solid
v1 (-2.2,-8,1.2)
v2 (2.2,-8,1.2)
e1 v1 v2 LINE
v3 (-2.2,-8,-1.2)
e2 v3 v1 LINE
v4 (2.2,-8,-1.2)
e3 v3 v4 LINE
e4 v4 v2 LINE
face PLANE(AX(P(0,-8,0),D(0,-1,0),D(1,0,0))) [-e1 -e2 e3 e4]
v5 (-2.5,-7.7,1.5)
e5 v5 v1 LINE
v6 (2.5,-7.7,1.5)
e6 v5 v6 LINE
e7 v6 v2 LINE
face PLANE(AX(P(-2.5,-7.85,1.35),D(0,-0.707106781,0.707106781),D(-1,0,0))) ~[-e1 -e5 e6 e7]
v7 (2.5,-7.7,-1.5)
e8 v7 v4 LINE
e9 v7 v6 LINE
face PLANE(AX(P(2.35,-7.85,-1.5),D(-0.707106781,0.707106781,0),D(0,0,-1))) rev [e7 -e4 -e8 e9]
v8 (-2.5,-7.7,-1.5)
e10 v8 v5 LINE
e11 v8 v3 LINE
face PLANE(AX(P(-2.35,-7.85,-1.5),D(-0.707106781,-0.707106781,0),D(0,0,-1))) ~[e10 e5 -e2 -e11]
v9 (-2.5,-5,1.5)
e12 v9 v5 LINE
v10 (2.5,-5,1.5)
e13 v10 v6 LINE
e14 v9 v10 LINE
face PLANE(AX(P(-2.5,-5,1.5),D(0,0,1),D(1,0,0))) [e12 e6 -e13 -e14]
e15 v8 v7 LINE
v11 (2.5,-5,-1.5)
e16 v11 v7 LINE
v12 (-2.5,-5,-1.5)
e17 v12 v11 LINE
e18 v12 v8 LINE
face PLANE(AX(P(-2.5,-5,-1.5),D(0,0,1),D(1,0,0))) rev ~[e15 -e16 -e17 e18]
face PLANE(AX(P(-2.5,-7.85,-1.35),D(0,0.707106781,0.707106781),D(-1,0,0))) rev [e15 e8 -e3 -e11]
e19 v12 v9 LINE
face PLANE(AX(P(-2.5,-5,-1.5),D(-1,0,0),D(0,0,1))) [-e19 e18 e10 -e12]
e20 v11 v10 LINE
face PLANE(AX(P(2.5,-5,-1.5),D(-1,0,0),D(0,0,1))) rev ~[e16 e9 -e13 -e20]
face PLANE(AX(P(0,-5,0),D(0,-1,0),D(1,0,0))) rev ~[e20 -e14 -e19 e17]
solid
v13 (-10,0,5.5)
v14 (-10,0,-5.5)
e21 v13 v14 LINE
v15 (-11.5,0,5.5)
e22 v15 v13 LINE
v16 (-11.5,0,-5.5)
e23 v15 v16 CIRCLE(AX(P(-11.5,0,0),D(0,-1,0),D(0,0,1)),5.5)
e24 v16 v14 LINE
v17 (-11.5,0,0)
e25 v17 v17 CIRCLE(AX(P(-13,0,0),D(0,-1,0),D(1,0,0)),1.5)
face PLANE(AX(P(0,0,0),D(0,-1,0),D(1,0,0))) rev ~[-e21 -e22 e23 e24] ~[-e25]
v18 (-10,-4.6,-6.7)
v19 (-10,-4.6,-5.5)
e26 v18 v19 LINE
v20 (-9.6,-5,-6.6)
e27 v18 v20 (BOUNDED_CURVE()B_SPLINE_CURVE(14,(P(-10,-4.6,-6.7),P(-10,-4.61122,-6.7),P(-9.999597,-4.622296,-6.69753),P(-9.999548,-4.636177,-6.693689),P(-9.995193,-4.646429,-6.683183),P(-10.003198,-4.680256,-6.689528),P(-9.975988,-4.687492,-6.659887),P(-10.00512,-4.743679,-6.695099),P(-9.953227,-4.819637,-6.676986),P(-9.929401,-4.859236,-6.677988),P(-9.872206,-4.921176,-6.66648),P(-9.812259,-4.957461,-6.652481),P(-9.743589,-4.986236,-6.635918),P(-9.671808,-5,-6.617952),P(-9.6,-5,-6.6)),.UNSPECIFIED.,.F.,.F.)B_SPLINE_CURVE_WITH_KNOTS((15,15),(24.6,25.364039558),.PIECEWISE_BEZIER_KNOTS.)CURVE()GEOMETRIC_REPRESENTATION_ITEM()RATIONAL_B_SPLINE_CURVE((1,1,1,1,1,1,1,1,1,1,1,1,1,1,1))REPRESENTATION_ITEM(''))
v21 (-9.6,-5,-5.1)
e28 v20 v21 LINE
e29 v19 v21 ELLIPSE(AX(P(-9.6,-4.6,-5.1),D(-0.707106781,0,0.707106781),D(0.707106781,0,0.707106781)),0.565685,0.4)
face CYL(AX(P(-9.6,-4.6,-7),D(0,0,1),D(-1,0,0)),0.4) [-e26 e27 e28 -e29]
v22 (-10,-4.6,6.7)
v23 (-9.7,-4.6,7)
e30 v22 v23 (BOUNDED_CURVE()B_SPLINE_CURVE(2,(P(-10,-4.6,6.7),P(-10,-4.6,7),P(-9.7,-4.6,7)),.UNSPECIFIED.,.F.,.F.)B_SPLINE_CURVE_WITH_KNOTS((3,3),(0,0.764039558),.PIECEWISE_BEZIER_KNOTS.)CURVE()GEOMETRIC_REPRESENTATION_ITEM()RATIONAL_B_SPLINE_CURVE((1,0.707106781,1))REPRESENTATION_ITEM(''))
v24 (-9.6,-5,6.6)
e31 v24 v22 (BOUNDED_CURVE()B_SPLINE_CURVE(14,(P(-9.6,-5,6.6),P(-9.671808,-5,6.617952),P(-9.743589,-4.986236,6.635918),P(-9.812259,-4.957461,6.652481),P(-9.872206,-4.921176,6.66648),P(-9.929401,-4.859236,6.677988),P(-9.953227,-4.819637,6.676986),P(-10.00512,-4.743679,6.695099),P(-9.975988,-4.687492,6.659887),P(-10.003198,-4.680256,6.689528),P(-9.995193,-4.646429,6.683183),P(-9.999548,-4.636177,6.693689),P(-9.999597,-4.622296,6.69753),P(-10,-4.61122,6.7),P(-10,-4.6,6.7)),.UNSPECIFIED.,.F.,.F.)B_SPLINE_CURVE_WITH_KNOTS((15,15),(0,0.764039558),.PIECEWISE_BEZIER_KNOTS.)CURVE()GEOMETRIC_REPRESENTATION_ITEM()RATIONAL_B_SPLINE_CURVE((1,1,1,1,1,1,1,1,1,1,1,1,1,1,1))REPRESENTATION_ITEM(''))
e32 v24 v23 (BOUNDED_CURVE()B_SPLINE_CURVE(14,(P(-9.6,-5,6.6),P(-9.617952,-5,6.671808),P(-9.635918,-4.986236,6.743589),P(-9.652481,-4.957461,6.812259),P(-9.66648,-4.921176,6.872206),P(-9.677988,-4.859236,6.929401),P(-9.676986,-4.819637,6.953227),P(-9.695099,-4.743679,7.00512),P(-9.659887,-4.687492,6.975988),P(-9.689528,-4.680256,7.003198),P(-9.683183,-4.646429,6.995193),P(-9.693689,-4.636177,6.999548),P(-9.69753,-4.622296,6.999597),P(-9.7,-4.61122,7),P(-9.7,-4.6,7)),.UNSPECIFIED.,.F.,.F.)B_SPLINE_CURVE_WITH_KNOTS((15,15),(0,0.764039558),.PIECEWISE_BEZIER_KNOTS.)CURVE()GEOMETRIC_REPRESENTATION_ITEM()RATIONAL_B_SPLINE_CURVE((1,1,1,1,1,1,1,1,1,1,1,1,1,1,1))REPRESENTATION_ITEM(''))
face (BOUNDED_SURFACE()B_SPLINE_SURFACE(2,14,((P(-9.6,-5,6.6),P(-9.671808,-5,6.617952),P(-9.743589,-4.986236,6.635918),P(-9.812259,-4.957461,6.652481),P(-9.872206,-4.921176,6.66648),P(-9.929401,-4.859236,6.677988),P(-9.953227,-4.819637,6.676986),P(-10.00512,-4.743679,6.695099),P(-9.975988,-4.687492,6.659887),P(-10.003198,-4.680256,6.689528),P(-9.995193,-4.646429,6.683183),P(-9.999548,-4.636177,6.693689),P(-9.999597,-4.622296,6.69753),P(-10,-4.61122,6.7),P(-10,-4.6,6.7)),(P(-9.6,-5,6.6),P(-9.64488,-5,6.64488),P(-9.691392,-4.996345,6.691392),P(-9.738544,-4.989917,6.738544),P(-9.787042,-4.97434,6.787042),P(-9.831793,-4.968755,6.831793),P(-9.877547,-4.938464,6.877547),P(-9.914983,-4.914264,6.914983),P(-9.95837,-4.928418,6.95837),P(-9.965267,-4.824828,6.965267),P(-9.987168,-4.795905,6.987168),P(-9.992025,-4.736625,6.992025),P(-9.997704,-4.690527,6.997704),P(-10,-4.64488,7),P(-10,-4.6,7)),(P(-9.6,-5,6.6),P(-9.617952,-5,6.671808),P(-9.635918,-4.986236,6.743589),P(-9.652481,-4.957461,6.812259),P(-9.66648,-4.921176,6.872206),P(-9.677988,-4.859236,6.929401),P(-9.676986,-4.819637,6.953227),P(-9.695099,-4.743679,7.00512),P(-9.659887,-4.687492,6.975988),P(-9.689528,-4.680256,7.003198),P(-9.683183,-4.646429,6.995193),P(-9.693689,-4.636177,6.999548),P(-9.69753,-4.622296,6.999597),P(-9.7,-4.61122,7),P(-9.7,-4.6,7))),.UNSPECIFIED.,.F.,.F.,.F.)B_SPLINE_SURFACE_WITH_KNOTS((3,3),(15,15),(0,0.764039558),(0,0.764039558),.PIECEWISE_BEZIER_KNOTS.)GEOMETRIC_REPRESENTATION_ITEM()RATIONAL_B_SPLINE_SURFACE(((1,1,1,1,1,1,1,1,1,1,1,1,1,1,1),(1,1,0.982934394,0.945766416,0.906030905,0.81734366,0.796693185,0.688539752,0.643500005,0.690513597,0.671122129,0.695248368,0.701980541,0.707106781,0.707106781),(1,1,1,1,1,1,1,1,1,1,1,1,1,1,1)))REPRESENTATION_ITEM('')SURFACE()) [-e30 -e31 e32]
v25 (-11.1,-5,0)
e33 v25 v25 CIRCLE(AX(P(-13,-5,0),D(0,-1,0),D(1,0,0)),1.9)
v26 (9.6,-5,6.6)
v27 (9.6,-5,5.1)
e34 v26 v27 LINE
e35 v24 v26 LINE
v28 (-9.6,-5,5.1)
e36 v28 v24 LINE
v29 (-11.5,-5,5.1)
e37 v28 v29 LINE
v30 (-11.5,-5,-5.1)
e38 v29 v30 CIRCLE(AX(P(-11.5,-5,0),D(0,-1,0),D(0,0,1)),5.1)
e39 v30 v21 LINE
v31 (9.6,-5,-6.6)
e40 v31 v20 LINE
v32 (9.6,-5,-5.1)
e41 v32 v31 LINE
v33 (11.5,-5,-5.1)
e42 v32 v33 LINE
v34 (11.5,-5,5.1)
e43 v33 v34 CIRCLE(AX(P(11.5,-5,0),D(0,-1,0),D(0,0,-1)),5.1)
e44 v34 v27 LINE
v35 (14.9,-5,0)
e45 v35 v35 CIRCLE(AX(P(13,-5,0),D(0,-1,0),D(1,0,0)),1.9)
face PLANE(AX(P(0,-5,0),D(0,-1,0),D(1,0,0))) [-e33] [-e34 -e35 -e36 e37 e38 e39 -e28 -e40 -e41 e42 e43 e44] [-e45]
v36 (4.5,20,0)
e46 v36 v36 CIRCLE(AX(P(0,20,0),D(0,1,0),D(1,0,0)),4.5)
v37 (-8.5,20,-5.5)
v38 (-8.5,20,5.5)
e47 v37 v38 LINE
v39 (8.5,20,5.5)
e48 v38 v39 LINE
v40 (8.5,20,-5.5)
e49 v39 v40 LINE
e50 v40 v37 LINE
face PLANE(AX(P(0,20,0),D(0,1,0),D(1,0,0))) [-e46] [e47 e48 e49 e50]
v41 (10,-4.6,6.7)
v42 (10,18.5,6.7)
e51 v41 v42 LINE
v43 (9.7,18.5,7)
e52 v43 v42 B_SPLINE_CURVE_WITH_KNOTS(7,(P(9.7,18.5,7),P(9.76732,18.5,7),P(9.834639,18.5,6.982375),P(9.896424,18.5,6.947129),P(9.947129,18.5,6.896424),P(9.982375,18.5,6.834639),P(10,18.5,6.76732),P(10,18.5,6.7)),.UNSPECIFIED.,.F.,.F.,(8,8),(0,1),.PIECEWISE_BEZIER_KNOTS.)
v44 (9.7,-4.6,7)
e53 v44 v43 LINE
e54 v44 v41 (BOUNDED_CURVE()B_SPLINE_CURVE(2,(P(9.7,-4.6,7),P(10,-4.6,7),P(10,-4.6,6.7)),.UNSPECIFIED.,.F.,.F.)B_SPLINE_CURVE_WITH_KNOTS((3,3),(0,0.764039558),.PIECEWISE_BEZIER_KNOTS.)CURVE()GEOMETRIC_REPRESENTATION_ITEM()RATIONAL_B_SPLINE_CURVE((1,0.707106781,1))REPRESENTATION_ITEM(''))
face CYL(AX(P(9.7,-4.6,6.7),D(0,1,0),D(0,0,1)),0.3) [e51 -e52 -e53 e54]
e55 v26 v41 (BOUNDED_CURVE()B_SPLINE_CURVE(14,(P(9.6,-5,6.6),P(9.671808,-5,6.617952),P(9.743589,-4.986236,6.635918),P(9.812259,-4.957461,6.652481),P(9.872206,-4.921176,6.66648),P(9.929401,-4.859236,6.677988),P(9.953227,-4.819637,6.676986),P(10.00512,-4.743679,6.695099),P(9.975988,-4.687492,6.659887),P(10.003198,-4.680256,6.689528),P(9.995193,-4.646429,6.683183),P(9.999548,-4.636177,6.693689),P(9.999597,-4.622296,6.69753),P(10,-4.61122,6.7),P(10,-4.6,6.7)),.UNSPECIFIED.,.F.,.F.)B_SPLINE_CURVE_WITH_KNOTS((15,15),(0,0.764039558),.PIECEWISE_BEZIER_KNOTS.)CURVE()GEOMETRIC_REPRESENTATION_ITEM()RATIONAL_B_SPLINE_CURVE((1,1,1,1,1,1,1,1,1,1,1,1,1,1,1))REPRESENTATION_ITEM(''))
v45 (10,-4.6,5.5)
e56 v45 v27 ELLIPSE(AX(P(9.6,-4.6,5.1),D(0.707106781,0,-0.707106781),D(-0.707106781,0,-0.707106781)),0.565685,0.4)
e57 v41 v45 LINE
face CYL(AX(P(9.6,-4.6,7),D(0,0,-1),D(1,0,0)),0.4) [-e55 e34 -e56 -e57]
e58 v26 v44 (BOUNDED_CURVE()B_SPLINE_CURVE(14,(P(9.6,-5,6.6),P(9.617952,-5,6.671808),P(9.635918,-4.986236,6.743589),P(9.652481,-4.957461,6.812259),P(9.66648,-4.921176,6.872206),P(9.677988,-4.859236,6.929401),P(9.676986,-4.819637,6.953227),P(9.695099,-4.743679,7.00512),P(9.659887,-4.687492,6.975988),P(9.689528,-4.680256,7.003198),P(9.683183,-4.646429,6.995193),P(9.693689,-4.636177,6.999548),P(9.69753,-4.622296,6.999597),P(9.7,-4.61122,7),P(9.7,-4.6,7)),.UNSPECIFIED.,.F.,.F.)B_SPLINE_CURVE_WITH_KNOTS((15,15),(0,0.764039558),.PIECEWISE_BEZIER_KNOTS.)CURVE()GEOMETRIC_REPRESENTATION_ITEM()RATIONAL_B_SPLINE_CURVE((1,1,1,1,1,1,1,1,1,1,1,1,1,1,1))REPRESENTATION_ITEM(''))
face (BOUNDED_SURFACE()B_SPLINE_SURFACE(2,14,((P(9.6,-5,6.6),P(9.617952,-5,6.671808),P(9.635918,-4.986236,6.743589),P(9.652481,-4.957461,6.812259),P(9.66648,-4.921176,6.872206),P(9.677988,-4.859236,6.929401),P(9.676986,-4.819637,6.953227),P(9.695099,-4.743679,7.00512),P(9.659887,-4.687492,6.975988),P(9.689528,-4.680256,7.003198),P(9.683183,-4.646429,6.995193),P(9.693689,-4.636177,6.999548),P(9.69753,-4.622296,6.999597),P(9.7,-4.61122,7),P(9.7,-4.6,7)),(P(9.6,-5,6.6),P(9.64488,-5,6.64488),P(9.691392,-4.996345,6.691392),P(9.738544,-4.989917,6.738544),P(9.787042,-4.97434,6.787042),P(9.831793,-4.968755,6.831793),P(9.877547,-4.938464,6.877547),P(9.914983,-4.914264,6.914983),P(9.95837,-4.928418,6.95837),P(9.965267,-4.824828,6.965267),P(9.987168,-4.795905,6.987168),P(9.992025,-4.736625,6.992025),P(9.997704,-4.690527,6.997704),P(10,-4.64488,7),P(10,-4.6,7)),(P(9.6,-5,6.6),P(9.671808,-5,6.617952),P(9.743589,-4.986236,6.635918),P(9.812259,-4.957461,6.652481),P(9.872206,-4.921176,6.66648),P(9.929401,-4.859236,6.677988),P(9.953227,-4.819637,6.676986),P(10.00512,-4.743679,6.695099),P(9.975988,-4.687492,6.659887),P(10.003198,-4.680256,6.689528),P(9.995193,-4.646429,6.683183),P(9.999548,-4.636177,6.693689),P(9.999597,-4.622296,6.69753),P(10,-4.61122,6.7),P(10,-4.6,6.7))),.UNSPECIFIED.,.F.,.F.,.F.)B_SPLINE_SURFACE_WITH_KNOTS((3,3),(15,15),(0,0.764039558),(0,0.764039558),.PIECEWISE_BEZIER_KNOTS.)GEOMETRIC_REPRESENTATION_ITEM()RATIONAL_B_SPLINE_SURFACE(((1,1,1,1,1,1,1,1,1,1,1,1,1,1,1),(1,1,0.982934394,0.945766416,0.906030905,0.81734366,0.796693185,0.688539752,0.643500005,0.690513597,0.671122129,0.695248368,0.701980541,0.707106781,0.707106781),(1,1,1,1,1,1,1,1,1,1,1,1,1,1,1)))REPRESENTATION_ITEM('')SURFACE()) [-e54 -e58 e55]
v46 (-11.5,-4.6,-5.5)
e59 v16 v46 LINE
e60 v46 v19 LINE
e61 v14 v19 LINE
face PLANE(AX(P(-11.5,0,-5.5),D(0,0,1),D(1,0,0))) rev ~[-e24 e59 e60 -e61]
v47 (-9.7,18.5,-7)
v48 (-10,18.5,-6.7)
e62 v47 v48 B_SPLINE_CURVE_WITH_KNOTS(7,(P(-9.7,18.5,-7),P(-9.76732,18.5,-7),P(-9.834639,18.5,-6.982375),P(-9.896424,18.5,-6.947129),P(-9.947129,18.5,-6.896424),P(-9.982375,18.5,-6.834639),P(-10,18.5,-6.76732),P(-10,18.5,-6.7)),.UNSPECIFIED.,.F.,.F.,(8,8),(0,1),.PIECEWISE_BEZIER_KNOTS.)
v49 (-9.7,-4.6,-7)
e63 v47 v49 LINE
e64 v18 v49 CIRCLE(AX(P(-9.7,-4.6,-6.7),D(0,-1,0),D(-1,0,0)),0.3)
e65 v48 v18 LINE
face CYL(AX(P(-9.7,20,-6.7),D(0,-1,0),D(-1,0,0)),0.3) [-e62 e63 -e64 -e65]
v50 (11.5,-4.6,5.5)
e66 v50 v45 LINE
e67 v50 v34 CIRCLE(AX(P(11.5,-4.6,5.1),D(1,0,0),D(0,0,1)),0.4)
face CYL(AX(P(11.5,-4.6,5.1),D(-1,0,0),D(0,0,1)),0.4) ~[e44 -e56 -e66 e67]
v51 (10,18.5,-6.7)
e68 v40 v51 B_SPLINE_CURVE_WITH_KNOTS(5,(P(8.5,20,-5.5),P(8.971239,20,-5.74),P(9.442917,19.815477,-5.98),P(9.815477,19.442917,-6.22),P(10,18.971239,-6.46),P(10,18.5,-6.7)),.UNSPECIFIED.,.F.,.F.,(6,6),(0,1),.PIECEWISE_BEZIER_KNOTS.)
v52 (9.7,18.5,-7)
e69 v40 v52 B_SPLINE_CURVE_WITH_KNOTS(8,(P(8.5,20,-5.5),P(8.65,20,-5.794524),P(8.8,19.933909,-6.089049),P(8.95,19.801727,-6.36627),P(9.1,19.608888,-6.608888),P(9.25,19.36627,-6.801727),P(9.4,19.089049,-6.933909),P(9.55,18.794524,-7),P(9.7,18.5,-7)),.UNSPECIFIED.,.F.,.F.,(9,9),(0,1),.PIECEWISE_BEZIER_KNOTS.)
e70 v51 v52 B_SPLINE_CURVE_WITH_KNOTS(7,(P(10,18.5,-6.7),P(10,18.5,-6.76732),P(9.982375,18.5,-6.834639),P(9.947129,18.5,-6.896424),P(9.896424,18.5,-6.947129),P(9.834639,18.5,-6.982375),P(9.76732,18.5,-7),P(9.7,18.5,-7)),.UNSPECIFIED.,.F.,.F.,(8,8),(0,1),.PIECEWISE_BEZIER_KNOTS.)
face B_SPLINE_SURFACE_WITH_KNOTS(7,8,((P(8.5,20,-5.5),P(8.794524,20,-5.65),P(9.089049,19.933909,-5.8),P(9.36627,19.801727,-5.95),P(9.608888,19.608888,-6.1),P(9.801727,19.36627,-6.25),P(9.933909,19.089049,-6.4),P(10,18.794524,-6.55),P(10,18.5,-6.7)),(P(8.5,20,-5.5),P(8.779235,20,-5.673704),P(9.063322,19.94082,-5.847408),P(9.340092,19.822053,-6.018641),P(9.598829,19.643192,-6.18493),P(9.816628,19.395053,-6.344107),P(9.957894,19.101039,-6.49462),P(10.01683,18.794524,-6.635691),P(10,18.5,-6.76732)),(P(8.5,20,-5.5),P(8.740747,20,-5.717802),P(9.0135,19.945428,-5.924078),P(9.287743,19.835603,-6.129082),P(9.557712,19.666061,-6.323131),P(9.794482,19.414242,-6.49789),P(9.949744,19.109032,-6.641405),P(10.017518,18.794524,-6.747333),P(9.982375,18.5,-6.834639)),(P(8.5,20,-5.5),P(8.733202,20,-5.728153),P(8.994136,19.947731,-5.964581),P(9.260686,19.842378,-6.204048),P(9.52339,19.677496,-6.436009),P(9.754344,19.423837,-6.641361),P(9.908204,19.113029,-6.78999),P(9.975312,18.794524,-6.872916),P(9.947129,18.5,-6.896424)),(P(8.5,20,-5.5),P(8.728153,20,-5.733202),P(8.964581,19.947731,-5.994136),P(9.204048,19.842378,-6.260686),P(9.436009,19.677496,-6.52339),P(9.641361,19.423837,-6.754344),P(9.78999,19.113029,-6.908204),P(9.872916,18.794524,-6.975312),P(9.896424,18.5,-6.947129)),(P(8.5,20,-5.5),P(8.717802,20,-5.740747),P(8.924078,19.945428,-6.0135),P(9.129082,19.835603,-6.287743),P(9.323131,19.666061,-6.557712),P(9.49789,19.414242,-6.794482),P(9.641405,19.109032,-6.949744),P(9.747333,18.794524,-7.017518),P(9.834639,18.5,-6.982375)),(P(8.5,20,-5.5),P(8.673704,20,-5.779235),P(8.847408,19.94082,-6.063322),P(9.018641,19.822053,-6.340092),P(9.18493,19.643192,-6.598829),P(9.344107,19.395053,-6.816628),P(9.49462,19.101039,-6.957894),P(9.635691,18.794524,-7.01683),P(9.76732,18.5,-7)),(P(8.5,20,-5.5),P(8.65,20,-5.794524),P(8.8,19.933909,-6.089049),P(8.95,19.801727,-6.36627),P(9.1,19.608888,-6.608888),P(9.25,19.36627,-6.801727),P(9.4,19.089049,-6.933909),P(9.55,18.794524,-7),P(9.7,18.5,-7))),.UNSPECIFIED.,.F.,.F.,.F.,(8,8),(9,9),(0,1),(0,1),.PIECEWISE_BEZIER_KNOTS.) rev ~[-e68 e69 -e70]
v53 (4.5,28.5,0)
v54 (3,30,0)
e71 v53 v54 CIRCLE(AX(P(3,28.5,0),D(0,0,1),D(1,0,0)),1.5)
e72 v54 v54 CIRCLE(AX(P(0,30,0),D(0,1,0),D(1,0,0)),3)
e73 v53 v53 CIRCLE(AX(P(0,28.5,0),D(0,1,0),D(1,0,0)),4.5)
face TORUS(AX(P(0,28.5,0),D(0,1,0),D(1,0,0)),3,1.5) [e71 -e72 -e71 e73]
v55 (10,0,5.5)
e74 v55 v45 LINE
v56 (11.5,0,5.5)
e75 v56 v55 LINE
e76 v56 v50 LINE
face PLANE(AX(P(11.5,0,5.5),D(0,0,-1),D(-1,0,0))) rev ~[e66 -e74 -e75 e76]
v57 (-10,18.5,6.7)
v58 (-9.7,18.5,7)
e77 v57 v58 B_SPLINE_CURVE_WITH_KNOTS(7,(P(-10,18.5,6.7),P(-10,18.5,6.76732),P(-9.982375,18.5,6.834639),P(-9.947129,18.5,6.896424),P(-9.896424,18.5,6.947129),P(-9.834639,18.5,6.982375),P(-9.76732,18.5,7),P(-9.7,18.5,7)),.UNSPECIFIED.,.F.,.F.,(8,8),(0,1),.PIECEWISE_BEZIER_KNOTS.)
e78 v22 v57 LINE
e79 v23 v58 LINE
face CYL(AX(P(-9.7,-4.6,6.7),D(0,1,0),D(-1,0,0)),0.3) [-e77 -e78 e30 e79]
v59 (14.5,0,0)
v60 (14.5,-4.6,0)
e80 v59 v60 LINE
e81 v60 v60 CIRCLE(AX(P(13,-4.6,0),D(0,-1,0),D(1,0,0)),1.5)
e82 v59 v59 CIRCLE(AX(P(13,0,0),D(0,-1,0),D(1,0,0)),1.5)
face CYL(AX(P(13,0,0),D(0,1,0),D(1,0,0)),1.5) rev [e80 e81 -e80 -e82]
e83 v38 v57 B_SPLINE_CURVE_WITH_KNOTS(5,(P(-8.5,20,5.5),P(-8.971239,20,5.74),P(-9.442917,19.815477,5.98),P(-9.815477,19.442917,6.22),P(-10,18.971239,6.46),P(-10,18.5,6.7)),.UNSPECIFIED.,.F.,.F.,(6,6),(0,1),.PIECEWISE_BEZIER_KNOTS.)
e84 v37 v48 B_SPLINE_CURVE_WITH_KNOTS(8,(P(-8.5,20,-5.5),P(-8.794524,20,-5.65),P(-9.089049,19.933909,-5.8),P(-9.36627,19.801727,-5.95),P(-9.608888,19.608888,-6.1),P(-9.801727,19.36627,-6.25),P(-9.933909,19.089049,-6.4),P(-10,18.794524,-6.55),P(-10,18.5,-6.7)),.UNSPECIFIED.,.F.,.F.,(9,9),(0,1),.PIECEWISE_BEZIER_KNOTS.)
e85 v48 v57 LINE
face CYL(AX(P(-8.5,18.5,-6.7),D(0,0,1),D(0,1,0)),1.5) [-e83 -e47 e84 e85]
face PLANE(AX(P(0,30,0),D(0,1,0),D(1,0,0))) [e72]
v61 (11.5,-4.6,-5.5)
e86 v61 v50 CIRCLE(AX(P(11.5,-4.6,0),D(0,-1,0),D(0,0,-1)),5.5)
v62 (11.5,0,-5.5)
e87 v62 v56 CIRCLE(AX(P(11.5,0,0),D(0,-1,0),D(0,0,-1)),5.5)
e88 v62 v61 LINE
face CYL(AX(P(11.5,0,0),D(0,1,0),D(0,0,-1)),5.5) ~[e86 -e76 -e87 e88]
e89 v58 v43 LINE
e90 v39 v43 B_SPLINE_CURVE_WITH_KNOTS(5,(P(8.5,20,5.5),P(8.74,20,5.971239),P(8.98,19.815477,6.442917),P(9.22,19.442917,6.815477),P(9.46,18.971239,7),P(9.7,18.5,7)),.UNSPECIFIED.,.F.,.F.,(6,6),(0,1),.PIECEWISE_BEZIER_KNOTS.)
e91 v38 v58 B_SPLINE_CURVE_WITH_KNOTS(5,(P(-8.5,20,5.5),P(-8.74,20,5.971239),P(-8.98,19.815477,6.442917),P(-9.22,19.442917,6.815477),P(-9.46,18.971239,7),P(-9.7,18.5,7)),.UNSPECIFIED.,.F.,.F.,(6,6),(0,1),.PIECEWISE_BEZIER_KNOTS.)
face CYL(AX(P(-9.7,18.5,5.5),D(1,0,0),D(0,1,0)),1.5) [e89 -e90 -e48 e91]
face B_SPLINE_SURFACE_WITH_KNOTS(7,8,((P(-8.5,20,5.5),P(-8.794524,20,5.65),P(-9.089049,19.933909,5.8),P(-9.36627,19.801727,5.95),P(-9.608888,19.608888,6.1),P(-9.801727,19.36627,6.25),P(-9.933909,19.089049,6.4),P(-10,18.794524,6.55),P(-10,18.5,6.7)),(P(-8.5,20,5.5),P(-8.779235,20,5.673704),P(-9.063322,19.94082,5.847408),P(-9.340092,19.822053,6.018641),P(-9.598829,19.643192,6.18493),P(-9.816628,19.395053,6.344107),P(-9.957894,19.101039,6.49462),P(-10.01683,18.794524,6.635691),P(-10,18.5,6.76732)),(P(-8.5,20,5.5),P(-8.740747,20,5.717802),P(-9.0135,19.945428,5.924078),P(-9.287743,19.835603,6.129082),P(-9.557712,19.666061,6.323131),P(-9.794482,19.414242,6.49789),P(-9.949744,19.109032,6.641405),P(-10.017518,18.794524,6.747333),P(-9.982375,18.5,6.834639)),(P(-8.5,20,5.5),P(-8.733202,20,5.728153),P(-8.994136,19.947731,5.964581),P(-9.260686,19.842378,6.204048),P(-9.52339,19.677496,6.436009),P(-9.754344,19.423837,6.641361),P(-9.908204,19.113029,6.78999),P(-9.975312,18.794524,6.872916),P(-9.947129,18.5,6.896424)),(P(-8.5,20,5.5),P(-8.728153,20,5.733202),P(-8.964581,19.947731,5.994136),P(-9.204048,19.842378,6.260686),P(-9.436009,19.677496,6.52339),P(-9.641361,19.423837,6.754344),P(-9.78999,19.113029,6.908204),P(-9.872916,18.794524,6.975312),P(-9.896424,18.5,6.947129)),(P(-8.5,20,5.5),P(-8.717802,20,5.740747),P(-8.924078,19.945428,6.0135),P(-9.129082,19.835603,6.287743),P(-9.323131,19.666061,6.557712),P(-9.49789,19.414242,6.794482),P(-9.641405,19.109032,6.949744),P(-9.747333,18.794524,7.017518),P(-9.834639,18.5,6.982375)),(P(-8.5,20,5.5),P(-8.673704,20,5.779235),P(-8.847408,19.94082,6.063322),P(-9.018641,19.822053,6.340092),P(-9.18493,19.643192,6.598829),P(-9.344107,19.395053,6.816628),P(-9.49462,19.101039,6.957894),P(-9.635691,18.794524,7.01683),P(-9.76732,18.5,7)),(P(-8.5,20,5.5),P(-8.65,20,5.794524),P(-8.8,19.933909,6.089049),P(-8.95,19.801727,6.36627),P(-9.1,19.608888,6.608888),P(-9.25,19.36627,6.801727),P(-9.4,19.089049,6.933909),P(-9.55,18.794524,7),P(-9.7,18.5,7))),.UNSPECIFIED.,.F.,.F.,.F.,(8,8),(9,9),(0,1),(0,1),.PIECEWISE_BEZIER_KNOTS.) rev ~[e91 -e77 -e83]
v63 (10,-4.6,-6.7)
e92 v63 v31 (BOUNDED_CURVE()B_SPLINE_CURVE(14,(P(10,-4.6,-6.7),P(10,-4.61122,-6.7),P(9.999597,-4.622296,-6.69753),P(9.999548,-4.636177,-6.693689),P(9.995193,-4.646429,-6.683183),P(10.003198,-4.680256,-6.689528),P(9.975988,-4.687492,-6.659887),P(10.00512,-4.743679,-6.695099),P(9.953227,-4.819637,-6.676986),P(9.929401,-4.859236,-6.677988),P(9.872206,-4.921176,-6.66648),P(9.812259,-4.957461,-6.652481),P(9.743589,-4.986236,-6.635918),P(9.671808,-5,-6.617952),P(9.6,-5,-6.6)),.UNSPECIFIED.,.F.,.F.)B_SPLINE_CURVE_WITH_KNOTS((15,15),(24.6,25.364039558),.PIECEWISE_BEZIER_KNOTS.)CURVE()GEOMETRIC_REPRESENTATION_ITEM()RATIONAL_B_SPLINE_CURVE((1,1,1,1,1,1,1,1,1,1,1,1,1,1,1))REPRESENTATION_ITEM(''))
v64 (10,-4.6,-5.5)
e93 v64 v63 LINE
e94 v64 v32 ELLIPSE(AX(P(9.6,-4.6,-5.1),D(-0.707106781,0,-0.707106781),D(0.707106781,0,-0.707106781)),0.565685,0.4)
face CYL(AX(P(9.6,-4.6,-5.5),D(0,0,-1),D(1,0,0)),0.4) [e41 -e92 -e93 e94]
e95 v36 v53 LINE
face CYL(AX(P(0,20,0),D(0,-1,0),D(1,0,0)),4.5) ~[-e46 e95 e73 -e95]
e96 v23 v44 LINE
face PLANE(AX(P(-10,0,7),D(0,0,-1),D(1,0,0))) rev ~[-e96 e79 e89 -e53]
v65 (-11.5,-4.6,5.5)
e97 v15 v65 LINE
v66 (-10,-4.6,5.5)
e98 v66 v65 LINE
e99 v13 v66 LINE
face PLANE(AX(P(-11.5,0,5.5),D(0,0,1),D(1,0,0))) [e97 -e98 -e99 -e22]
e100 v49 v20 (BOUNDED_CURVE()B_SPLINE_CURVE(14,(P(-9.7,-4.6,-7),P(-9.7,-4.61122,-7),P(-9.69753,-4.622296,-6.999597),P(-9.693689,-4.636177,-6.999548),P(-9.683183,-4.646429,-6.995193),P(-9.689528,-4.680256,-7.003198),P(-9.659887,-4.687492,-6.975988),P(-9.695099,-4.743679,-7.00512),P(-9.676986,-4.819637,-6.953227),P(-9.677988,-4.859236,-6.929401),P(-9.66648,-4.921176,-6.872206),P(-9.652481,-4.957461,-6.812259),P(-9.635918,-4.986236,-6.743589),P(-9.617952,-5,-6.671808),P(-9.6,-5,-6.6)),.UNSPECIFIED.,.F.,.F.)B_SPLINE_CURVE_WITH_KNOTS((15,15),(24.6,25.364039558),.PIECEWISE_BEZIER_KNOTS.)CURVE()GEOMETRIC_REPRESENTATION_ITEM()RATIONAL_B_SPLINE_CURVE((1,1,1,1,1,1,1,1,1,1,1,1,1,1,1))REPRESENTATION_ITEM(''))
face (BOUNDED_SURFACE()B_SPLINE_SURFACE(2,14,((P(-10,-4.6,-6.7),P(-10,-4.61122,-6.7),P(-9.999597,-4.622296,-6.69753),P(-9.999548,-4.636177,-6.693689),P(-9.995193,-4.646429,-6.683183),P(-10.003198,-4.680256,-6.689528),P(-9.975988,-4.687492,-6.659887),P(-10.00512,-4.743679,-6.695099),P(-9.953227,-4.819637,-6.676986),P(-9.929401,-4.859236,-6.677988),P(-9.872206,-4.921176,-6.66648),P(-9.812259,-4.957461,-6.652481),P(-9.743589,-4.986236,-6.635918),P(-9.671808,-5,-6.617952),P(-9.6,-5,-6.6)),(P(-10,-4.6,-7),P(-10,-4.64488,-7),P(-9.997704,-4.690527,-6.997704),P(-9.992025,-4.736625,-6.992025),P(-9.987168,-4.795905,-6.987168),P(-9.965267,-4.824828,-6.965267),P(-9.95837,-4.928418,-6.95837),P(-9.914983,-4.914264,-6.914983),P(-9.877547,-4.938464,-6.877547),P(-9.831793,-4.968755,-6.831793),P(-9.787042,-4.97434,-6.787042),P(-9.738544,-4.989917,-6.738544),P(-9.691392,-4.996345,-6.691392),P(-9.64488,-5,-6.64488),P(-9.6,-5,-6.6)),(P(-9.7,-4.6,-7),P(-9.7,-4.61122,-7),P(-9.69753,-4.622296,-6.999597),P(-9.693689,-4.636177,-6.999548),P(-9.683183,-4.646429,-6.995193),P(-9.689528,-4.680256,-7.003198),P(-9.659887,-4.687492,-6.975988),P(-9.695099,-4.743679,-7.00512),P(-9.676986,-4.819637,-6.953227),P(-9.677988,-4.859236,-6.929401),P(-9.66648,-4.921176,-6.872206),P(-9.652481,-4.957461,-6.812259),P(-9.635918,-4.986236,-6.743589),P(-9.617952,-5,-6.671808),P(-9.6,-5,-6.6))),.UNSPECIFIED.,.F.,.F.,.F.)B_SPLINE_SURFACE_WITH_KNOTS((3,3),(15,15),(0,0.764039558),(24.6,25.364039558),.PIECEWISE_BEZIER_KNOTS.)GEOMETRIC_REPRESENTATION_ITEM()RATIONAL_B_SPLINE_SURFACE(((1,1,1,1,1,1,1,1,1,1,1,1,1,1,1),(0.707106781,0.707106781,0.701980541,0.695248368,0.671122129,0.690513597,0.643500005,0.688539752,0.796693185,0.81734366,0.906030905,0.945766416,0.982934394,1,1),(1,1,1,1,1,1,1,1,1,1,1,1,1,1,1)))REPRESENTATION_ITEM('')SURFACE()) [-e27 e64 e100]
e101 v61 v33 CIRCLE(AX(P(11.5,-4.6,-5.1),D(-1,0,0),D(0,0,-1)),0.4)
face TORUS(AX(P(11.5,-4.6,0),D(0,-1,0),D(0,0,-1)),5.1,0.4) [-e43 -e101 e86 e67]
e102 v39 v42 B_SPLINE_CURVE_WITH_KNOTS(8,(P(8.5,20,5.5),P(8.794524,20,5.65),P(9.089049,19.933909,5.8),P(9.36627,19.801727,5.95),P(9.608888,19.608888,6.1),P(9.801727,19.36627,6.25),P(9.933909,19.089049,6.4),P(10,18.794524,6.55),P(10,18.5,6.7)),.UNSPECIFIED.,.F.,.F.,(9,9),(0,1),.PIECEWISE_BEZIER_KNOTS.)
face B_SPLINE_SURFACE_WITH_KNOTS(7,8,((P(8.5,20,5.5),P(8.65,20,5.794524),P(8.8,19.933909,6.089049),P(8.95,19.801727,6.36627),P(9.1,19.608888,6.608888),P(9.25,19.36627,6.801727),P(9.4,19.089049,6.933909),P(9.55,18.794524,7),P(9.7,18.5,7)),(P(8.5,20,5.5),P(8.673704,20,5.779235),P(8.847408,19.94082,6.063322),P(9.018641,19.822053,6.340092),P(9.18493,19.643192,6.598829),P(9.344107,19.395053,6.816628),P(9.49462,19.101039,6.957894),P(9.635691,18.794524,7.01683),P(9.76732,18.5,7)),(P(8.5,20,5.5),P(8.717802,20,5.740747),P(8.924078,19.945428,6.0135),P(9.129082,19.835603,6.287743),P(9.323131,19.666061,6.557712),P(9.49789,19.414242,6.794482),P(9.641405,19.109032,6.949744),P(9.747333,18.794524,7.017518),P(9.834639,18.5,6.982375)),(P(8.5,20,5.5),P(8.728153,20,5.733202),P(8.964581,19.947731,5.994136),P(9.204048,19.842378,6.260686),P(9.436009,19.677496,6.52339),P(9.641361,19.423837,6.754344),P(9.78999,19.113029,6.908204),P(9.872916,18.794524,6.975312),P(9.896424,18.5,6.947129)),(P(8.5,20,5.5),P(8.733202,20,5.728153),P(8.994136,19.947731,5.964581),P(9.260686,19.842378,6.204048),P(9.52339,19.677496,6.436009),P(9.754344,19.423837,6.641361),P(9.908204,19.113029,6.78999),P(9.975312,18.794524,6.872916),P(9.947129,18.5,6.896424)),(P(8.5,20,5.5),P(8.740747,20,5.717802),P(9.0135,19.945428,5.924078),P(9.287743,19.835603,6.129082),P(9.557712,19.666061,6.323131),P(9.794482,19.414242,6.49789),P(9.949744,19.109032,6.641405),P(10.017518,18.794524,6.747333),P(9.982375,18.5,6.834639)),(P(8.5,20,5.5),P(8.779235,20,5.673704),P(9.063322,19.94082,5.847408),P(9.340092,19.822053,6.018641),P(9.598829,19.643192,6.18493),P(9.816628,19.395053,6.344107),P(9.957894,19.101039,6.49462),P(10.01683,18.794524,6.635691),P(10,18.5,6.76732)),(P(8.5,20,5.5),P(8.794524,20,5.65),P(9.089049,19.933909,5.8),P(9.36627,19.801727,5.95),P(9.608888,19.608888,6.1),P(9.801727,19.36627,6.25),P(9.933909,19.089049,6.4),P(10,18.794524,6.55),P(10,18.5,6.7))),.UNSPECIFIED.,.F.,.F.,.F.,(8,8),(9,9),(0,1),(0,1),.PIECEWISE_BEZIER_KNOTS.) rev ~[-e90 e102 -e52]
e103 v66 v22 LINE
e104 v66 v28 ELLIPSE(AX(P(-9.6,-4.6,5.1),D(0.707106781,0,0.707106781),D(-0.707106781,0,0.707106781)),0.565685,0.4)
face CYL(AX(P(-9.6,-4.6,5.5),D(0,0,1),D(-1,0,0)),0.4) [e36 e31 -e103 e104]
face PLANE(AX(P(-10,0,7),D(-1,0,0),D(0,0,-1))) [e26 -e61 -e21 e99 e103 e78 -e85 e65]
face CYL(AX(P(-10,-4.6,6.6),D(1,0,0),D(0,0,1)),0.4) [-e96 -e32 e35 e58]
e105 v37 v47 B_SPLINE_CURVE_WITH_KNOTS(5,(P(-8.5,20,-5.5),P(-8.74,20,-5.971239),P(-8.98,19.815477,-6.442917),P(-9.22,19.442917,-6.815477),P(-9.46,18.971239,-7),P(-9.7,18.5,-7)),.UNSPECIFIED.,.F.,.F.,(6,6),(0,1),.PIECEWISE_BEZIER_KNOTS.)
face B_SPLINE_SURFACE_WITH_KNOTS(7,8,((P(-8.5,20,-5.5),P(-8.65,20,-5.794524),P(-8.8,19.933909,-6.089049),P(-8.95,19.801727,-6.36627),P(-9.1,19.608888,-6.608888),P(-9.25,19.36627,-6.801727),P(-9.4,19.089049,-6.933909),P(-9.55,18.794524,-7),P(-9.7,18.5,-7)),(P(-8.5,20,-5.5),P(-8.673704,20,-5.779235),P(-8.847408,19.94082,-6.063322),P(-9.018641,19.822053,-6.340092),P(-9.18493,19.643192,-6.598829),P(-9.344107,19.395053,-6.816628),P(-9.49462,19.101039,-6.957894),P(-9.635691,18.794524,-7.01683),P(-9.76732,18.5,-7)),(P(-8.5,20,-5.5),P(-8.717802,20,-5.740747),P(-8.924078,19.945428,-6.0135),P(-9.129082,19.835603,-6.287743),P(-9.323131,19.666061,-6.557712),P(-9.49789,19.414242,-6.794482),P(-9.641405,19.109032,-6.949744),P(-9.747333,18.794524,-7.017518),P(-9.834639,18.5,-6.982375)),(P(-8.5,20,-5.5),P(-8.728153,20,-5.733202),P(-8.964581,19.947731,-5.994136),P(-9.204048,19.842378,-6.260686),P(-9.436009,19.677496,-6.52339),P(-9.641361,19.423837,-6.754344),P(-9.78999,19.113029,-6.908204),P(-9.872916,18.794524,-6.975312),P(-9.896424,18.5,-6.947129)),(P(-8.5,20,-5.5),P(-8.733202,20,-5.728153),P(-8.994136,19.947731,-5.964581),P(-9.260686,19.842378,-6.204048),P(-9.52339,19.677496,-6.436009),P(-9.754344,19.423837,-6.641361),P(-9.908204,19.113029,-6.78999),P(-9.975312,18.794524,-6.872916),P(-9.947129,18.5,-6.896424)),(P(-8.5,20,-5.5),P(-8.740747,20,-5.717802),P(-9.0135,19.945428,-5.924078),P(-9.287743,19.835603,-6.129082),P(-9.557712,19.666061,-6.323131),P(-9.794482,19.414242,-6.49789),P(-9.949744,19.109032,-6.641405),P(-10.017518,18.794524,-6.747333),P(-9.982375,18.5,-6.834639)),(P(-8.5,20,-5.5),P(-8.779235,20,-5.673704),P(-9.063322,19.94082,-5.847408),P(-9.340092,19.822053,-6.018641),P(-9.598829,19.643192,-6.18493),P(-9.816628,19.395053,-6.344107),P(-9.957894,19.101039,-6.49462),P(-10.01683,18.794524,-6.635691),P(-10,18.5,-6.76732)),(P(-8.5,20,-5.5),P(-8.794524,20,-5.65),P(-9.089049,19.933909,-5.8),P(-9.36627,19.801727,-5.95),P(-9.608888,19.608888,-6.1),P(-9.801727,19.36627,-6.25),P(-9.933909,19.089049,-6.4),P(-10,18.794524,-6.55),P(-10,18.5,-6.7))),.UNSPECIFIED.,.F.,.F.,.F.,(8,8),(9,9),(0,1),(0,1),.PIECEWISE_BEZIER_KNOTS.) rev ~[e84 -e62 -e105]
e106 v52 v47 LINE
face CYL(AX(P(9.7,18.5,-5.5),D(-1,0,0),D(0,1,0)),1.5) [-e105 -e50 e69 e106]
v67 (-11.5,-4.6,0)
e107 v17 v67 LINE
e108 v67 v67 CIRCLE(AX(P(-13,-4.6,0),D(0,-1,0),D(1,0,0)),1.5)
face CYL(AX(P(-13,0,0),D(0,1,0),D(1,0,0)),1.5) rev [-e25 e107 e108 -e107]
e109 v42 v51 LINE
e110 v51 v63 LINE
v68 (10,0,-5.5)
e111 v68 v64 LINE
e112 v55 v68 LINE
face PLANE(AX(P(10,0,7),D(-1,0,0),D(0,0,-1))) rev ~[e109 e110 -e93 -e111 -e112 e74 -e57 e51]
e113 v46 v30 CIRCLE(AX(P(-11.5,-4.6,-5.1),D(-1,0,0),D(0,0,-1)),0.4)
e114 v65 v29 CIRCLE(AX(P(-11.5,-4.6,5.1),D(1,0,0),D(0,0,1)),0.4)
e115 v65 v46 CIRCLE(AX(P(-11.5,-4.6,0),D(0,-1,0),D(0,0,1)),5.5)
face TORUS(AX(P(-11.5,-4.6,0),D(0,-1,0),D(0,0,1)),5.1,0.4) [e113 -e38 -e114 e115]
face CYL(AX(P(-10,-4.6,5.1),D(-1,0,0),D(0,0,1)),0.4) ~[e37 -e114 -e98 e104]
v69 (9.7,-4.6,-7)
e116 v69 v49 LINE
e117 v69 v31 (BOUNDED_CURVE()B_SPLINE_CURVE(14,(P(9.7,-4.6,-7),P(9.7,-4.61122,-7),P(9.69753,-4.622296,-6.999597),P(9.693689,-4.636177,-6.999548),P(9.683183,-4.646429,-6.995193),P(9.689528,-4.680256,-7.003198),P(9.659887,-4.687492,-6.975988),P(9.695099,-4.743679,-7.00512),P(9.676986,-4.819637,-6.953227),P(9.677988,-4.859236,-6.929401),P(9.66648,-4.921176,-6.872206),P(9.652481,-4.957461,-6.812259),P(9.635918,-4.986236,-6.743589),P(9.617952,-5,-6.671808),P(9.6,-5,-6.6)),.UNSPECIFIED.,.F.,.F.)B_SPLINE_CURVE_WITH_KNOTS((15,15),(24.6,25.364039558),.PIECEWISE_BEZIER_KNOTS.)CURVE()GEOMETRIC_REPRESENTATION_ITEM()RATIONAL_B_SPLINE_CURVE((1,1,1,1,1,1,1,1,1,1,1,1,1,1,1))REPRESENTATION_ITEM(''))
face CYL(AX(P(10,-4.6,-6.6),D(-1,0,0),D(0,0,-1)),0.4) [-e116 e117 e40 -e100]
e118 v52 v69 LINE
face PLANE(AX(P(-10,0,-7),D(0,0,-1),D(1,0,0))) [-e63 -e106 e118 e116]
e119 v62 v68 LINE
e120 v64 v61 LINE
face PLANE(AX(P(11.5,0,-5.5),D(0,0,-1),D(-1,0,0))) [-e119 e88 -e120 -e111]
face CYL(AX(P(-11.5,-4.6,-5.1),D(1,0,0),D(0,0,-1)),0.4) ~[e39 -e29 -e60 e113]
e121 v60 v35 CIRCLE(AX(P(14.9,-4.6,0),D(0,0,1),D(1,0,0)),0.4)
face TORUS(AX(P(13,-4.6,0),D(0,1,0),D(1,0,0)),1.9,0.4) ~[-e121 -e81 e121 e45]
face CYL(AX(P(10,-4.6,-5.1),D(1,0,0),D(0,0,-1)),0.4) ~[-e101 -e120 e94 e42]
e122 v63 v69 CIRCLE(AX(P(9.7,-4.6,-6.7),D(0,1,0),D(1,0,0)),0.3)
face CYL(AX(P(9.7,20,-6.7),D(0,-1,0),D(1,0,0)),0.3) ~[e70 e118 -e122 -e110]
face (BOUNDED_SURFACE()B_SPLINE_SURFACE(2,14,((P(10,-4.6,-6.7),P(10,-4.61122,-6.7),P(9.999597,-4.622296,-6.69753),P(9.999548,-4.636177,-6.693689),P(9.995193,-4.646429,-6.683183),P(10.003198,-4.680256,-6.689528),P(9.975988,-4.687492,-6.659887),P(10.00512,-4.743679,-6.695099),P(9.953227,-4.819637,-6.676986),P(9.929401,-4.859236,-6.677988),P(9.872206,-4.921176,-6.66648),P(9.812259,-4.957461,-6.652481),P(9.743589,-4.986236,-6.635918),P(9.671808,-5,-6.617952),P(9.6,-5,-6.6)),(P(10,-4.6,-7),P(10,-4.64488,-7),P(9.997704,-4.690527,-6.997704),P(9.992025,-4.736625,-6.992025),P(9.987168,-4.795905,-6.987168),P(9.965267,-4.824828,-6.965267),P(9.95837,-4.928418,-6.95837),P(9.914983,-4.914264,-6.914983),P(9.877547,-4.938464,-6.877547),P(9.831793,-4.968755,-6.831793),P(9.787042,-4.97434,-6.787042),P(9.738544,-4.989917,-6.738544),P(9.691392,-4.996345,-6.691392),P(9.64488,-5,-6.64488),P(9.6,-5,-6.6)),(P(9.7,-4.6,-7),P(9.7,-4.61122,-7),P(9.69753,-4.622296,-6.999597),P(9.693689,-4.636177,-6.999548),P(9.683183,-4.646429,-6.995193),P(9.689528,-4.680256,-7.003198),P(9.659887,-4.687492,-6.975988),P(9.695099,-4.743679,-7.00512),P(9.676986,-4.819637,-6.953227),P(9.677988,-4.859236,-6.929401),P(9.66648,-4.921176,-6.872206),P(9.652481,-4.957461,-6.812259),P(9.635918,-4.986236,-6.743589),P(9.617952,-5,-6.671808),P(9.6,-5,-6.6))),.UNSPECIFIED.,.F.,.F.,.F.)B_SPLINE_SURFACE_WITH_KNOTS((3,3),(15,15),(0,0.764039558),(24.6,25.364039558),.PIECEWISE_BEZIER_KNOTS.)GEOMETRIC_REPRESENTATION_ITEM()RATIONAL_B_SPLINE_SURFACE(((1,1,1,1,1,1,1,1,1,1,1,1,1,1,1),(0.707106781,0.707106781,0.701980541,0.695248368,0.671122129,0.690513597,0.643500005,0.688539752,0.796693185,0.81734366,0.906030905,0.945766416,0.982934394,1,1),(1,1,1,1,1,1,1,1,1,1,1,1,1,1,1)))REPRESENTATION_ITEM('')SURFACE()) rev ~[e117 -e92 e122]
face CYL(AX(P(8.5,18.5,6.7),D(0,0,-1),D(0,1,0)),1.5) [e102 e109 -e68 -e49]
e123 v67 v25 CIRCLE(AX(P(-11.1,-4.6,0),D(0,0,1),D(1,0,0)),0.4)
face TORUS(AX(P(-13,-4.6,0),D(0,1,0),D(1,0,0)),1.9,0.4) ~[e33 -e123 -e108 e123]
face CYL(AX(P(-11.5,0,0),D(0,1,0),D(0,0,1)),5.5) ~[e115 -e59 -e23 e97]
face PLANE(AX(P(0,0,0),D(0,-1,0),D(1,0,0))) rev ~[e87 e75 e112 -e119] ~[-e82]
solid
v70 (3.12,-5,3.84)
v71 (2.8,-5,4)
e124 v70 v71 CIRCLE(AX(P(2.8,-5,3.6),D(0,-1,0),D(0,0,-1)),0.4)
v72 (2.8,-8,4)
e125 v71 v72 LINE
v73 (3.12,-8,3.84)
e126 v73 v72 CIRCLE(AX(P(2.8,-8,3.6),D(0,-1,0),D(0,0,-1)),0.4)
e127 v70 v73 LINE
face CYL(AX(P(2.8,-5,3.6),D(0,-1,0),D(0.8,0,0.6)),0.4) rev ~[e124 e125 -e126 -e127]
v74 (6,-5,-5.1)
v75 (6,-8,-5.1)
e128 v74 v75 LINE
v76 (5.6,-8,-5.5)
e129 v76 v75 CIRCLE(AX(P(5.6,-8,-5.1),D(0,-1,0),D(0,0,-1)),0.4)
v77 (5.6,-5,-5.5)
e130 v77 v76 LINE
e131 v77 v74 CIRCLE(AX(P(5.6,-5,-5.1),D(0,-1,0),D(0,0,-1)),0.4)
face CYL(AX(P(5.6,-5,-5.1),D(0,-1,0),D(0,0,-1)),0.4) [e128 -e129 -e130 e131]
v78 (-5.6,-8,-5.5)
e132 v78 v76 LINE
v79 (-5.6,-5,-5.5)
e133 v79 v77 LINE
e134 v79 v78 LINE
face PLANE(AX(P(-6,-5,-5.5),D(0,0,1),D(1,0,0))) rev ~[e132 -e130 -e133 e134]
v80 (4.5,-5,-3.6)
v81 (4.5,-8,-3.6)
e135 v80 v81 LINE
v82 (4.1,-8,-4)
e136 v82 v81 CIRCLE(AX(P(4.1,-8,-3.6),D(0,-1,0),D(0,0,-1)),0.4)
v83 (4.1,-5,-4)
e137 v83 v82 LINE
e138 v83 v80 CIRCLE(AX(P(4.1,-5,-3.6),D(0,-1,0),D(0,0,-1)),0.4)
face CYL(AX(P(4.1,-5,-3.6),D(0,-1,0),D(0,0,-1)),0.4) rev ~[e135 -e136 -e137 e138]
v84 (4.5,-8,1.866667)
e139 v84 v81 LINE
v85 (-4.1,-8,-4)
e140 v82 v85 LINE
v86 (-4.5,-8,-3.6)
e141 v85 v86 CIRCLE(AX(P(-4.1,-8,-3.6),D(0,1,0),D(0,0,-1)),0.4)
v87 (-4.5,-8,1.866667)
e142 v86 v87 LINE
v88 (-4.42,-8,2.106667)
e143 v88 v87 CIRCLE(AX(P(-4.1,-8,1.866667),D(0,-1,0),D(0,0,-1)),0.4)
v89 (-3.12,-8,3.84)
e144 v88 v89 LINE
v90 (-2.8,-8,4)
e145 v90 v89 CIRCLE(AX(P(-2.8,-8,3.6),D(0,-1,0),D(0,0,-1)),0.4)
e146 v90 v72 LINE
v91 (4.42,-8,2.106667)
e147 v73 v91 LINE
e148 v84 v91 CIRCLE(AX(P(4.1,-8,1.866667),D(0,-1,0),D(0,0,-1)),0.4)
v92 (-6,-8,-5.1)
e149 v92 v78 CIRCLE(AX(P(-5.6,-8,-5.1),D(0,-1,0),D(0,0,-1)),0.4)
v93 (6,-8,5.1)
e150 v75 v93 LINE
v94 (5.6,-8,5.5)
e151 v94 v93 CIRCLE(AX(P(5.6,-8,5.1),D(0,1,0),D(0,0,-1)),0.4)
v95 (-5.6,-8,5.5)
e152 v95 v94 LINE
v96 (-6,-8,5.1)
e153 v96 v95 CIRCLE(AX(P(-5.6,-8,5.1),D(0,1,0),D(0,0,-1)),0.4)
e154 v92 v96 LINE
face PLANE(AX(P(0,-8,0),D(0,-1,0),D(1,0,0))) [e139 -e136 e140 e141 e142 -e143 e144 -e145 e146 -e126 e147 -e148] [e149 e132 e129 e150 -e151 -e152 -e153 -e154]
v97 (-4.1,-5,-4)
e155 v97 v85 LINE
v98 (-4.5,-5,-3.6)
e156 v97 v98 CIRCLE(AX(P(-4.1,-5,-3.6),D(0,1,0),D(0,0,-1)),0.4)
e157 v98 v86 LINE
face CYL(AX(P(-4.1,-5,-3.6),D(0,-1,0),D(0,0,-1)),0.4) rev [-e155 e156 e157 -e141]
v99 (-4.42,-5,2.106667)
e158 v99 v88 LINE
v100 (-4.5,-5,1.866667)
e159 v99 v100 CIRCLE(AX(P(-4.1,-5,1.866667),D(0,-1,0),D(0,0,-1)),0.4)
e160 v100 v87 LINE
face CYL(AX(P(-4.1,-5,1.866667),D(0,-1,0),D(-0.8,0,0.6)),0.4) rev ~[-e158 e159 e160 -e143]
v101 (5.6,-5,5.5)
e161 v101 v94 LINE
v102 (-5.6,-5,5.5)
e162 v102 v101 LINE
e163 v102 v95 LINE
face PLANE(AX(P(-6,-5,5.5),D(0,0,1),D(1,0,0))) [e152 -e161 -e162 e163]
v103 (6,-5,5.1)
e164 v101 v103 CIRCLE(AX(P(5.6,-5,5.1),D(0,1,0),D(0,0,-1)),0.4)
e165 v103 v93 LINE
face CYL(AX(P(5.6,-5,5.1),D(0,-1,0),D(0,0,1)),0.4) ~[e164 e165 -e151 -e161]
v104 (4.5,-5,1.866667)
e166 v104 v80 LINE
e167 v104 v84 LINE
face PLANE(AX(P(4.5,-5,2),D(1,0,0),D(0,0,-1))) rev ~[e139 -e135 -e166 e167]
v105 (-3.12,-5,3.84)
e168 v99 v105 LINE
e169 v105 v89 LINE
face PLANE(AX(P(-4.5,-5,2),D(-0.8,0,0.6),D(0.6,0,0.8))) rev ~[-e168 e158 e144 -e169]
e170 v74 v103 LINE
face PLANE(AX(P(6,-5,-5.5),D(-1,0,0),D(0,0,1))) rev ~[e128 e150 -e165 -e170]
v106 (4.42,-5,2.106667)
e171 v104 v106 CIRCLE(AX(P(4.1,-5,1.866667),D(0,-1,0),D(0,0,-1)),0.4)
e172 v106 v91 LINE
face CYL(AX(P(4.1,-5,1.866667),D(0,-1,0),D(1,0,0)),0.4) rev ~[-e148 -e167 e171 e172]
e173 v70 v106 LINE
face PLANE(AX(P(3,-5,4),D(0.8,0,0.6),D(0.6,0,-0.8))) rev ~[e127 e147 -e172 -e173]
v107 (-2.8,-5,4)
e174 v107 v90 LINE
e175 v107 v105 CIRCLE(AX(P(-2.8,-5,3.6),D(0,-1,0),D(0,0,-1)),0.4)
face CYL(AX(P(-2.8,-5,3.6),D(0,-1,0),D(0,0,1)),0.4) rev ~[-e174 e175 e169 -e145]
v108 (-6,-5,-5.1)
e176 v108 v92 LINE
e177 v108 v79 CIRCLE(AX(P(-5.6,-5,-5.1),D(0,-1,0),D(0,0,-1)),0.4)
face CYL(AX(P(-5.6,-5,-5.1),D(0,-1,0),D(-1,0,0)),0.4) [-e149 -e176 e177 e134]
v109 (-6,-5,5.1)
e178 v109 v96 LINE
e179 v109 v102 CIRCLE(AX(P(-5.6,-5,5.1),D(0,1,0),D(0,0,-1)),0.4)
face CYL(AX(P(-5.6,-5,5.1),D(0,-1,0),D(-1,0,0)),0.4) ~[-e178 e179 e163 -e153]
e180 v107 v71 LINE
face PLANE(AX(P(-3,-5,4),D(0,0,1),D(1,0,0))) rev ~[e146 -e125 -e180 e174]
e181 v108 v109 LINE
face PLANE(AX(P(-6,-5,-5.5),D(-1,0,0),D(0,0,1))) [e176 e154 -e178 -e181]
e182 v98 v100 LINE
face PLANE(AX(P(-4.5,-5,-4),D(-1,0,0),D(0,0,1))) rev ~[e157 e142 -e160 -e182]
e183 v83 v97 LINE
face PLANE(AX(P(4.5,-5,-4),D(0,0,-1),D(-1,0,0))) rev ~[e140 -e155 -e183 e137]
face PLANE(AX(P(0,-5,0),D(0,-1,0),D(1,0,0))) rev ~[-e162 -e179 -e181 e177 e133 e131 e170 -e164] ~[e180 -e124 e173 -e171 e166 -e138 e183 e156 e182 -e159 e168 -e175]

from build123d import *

# Parameters (mm, degrees)
SKETCH_R     = 1.5
PAD_DEPTH    = 5
FILLET_R     = 0.4
SKETCH001_W  = 20
SKETCH001_H  = 14
PAD001_DEPTH = 20
FILLET001_R  = 0.3
FILLET002_R  = 1.5
SKETCH005_R  = 4.5
PAD005_DEPTH = 10
FILLET005_R  = 1.5
SKETCH003_W  = 12
SKETCH003_H  = 11
PAD003_DEPTH = 3
FILLET004_R  = 0.4
SKETCH004_W  = 5
SKETCH004_H  = 3
PAD004_DEPTH = 3
CHAMFER_SIZE = 0.3


with BuildPart() as body:
    # Sketch → Pad (new body)
    with BuildSketch(Plane.XZ):
        with BuildLine():
            ThreePointArc((-11.5, 5.5), (-17, 0), (-11.5, -5.5))
            Line((-11.5, -5.5), (-10, -5.5))
            Line((-10, -7), (-10, -5.5))
            Line((10, -7), (-10, -7))
            Line((10, -5.5), (10, -7))
            Line((11.5, -5.5), (10, -5.5))
            ThreePointArc((11.5, -5.5), (17, 0), (11.5, 5.5))
            Line((11.5, 5.5), (10, 5.5))
            Line((10, 7), (10, 5.5))
            Line((-10, 7), (10, 7))
            Line((-10, 5.5), (-10, 7))
            Line((-11.5, 5.5), (-10, 5.5))
        make_face()
        with Locations((13, 0)):
            Circle(SKETCH_R, mode=Mode.SUBTRACT)
        with Locations((-13, 0)):
            Circle(SKETCH_R, mode=Mode.SUBTRACT)
    extrude(amount=PAD_DEPTH)

    # Fillet
    fillet_edges = [body.edges().sort_by_distance(p)[0] for p in [
        (17, -5, 0),
        (10.75, -5, 5.5),
        (0, -5, 7),
        (-17, -5, 0),
        (-10.75, -5, 5.5),
        (-10, -5, 6.25),
        (10, -5, 6.25),
        (10, -5, -6.25),
        (0, -5, -7),
        (10.75, -5, -5.5),
        (-10, -5, -6.25),
        (-10.75, -5, -5.5),
        (-14.5, -5, 0),
        (11.5, -5, 0),
    ]]
    fillet(fillet_edges, radius=FILLET_R)

    # Sketch001 (on Face4 of Fillet) → Pad001 (join)
    with BuildSketch(Plane(origin=(0, 0, 0), x_dir=(1, 0, 0), z_dir=(0, 1, 0))):
        Rectangle(SKETCH001_W, SKETCH001_H)
    extrude(amount=PAD001_DEPTH)

    # Fillet001
    fillet001_edges = [body.edges().sort_by_distance(p)[0] for p in [
        (10, 10, 7),
        (-10, 10, 7),
        (-10, 10, -7),
        (10, 10, -7),
    ]]
    fillet(fillet001_edges, radius=FILLET001_R)

    # Fillet002
    fillet002_edges = [body.edges().sort_by_distance(p)[0] for p in [
        (0, 20, 7),
        (10, 20, 0),
        (0, 20, -7),
        (-10, 20, 0),
    ]]
    fillet(fillet002_edges, radius=FILLET002_R)

    # Sketch005 (on Face13 of Fillet002) → Pad005 (join)
    with BuildSketch(Plane(origin=(0, 20, 0), x_dir=(1, 0, 0), z_dir=(0, 1, 0))):
        Circle(SKETCH005_R)
    extrude(amount=PAD005_DEPTH)

    # Fillet005
    fillet005_edges = [body.edges().sort_by_distance(p)[0] for p in [
        (-4.5, 30, 0),
    ]]
    fillet(fillet005_edges, radius=FILLET005_R)


with BuildPart() as body001:
    # Sketch003 → Pad003 (new body)
    with BuildSketch(Plane.XZ.offset(5)):
        Rectangle(SKETCH003_W, SKETCH003_H)
        Polygon((-4.5, -4), (-4.5, 2), (-3, 4), (3, 4), (4.5, 2), (4.5, -4), align=None, mode=Mode.SUBTRACT)
    extrude(amount=PAD003_DEPTH)

    # Fillet004
    fillet004_edges = [body001.edges().sort_by_distance(p)[0] for p in [
        (6, -6.5, 5.5),
        (-6, -6.5, 5.5),
        (-6, -6.5, -5.5),
        (6, -6.5, -5.5),
        (-4.5, -6.5, -4),
        (4.5, -6.5, -4),
        (-4.5, -6.5, 2),
        (-3, -6.5, 4),
        (3, -6.5, 4),
        (4.5, -6.5, 2),
    ]]
    fillet(fillet004_edges, radius=FILLET004_R)


with BuildPart() as body002:
    # Sketch004 → Pad004 (new body)
    with BuildSketch(Plane.XZ.offset(5)):
        Rectangle(SKETCH004_W, SKETCH004_H)
    extrude(amount=PAD004_DEPTH)

    # Chamfer
    chamfer_edges = [body002.edges().sort_by_distance(p)[0] for p in [
        (0, -8, 1.5),
        (2.5, -8, 0),
        (0, -8, -1.5),
        (-2.5, -8, 0),
    ]]
    chamfer(chamfer_edges, length=CHAMFER_SIZE)


solid = Compound([body.part, body001.part, body002.part])
